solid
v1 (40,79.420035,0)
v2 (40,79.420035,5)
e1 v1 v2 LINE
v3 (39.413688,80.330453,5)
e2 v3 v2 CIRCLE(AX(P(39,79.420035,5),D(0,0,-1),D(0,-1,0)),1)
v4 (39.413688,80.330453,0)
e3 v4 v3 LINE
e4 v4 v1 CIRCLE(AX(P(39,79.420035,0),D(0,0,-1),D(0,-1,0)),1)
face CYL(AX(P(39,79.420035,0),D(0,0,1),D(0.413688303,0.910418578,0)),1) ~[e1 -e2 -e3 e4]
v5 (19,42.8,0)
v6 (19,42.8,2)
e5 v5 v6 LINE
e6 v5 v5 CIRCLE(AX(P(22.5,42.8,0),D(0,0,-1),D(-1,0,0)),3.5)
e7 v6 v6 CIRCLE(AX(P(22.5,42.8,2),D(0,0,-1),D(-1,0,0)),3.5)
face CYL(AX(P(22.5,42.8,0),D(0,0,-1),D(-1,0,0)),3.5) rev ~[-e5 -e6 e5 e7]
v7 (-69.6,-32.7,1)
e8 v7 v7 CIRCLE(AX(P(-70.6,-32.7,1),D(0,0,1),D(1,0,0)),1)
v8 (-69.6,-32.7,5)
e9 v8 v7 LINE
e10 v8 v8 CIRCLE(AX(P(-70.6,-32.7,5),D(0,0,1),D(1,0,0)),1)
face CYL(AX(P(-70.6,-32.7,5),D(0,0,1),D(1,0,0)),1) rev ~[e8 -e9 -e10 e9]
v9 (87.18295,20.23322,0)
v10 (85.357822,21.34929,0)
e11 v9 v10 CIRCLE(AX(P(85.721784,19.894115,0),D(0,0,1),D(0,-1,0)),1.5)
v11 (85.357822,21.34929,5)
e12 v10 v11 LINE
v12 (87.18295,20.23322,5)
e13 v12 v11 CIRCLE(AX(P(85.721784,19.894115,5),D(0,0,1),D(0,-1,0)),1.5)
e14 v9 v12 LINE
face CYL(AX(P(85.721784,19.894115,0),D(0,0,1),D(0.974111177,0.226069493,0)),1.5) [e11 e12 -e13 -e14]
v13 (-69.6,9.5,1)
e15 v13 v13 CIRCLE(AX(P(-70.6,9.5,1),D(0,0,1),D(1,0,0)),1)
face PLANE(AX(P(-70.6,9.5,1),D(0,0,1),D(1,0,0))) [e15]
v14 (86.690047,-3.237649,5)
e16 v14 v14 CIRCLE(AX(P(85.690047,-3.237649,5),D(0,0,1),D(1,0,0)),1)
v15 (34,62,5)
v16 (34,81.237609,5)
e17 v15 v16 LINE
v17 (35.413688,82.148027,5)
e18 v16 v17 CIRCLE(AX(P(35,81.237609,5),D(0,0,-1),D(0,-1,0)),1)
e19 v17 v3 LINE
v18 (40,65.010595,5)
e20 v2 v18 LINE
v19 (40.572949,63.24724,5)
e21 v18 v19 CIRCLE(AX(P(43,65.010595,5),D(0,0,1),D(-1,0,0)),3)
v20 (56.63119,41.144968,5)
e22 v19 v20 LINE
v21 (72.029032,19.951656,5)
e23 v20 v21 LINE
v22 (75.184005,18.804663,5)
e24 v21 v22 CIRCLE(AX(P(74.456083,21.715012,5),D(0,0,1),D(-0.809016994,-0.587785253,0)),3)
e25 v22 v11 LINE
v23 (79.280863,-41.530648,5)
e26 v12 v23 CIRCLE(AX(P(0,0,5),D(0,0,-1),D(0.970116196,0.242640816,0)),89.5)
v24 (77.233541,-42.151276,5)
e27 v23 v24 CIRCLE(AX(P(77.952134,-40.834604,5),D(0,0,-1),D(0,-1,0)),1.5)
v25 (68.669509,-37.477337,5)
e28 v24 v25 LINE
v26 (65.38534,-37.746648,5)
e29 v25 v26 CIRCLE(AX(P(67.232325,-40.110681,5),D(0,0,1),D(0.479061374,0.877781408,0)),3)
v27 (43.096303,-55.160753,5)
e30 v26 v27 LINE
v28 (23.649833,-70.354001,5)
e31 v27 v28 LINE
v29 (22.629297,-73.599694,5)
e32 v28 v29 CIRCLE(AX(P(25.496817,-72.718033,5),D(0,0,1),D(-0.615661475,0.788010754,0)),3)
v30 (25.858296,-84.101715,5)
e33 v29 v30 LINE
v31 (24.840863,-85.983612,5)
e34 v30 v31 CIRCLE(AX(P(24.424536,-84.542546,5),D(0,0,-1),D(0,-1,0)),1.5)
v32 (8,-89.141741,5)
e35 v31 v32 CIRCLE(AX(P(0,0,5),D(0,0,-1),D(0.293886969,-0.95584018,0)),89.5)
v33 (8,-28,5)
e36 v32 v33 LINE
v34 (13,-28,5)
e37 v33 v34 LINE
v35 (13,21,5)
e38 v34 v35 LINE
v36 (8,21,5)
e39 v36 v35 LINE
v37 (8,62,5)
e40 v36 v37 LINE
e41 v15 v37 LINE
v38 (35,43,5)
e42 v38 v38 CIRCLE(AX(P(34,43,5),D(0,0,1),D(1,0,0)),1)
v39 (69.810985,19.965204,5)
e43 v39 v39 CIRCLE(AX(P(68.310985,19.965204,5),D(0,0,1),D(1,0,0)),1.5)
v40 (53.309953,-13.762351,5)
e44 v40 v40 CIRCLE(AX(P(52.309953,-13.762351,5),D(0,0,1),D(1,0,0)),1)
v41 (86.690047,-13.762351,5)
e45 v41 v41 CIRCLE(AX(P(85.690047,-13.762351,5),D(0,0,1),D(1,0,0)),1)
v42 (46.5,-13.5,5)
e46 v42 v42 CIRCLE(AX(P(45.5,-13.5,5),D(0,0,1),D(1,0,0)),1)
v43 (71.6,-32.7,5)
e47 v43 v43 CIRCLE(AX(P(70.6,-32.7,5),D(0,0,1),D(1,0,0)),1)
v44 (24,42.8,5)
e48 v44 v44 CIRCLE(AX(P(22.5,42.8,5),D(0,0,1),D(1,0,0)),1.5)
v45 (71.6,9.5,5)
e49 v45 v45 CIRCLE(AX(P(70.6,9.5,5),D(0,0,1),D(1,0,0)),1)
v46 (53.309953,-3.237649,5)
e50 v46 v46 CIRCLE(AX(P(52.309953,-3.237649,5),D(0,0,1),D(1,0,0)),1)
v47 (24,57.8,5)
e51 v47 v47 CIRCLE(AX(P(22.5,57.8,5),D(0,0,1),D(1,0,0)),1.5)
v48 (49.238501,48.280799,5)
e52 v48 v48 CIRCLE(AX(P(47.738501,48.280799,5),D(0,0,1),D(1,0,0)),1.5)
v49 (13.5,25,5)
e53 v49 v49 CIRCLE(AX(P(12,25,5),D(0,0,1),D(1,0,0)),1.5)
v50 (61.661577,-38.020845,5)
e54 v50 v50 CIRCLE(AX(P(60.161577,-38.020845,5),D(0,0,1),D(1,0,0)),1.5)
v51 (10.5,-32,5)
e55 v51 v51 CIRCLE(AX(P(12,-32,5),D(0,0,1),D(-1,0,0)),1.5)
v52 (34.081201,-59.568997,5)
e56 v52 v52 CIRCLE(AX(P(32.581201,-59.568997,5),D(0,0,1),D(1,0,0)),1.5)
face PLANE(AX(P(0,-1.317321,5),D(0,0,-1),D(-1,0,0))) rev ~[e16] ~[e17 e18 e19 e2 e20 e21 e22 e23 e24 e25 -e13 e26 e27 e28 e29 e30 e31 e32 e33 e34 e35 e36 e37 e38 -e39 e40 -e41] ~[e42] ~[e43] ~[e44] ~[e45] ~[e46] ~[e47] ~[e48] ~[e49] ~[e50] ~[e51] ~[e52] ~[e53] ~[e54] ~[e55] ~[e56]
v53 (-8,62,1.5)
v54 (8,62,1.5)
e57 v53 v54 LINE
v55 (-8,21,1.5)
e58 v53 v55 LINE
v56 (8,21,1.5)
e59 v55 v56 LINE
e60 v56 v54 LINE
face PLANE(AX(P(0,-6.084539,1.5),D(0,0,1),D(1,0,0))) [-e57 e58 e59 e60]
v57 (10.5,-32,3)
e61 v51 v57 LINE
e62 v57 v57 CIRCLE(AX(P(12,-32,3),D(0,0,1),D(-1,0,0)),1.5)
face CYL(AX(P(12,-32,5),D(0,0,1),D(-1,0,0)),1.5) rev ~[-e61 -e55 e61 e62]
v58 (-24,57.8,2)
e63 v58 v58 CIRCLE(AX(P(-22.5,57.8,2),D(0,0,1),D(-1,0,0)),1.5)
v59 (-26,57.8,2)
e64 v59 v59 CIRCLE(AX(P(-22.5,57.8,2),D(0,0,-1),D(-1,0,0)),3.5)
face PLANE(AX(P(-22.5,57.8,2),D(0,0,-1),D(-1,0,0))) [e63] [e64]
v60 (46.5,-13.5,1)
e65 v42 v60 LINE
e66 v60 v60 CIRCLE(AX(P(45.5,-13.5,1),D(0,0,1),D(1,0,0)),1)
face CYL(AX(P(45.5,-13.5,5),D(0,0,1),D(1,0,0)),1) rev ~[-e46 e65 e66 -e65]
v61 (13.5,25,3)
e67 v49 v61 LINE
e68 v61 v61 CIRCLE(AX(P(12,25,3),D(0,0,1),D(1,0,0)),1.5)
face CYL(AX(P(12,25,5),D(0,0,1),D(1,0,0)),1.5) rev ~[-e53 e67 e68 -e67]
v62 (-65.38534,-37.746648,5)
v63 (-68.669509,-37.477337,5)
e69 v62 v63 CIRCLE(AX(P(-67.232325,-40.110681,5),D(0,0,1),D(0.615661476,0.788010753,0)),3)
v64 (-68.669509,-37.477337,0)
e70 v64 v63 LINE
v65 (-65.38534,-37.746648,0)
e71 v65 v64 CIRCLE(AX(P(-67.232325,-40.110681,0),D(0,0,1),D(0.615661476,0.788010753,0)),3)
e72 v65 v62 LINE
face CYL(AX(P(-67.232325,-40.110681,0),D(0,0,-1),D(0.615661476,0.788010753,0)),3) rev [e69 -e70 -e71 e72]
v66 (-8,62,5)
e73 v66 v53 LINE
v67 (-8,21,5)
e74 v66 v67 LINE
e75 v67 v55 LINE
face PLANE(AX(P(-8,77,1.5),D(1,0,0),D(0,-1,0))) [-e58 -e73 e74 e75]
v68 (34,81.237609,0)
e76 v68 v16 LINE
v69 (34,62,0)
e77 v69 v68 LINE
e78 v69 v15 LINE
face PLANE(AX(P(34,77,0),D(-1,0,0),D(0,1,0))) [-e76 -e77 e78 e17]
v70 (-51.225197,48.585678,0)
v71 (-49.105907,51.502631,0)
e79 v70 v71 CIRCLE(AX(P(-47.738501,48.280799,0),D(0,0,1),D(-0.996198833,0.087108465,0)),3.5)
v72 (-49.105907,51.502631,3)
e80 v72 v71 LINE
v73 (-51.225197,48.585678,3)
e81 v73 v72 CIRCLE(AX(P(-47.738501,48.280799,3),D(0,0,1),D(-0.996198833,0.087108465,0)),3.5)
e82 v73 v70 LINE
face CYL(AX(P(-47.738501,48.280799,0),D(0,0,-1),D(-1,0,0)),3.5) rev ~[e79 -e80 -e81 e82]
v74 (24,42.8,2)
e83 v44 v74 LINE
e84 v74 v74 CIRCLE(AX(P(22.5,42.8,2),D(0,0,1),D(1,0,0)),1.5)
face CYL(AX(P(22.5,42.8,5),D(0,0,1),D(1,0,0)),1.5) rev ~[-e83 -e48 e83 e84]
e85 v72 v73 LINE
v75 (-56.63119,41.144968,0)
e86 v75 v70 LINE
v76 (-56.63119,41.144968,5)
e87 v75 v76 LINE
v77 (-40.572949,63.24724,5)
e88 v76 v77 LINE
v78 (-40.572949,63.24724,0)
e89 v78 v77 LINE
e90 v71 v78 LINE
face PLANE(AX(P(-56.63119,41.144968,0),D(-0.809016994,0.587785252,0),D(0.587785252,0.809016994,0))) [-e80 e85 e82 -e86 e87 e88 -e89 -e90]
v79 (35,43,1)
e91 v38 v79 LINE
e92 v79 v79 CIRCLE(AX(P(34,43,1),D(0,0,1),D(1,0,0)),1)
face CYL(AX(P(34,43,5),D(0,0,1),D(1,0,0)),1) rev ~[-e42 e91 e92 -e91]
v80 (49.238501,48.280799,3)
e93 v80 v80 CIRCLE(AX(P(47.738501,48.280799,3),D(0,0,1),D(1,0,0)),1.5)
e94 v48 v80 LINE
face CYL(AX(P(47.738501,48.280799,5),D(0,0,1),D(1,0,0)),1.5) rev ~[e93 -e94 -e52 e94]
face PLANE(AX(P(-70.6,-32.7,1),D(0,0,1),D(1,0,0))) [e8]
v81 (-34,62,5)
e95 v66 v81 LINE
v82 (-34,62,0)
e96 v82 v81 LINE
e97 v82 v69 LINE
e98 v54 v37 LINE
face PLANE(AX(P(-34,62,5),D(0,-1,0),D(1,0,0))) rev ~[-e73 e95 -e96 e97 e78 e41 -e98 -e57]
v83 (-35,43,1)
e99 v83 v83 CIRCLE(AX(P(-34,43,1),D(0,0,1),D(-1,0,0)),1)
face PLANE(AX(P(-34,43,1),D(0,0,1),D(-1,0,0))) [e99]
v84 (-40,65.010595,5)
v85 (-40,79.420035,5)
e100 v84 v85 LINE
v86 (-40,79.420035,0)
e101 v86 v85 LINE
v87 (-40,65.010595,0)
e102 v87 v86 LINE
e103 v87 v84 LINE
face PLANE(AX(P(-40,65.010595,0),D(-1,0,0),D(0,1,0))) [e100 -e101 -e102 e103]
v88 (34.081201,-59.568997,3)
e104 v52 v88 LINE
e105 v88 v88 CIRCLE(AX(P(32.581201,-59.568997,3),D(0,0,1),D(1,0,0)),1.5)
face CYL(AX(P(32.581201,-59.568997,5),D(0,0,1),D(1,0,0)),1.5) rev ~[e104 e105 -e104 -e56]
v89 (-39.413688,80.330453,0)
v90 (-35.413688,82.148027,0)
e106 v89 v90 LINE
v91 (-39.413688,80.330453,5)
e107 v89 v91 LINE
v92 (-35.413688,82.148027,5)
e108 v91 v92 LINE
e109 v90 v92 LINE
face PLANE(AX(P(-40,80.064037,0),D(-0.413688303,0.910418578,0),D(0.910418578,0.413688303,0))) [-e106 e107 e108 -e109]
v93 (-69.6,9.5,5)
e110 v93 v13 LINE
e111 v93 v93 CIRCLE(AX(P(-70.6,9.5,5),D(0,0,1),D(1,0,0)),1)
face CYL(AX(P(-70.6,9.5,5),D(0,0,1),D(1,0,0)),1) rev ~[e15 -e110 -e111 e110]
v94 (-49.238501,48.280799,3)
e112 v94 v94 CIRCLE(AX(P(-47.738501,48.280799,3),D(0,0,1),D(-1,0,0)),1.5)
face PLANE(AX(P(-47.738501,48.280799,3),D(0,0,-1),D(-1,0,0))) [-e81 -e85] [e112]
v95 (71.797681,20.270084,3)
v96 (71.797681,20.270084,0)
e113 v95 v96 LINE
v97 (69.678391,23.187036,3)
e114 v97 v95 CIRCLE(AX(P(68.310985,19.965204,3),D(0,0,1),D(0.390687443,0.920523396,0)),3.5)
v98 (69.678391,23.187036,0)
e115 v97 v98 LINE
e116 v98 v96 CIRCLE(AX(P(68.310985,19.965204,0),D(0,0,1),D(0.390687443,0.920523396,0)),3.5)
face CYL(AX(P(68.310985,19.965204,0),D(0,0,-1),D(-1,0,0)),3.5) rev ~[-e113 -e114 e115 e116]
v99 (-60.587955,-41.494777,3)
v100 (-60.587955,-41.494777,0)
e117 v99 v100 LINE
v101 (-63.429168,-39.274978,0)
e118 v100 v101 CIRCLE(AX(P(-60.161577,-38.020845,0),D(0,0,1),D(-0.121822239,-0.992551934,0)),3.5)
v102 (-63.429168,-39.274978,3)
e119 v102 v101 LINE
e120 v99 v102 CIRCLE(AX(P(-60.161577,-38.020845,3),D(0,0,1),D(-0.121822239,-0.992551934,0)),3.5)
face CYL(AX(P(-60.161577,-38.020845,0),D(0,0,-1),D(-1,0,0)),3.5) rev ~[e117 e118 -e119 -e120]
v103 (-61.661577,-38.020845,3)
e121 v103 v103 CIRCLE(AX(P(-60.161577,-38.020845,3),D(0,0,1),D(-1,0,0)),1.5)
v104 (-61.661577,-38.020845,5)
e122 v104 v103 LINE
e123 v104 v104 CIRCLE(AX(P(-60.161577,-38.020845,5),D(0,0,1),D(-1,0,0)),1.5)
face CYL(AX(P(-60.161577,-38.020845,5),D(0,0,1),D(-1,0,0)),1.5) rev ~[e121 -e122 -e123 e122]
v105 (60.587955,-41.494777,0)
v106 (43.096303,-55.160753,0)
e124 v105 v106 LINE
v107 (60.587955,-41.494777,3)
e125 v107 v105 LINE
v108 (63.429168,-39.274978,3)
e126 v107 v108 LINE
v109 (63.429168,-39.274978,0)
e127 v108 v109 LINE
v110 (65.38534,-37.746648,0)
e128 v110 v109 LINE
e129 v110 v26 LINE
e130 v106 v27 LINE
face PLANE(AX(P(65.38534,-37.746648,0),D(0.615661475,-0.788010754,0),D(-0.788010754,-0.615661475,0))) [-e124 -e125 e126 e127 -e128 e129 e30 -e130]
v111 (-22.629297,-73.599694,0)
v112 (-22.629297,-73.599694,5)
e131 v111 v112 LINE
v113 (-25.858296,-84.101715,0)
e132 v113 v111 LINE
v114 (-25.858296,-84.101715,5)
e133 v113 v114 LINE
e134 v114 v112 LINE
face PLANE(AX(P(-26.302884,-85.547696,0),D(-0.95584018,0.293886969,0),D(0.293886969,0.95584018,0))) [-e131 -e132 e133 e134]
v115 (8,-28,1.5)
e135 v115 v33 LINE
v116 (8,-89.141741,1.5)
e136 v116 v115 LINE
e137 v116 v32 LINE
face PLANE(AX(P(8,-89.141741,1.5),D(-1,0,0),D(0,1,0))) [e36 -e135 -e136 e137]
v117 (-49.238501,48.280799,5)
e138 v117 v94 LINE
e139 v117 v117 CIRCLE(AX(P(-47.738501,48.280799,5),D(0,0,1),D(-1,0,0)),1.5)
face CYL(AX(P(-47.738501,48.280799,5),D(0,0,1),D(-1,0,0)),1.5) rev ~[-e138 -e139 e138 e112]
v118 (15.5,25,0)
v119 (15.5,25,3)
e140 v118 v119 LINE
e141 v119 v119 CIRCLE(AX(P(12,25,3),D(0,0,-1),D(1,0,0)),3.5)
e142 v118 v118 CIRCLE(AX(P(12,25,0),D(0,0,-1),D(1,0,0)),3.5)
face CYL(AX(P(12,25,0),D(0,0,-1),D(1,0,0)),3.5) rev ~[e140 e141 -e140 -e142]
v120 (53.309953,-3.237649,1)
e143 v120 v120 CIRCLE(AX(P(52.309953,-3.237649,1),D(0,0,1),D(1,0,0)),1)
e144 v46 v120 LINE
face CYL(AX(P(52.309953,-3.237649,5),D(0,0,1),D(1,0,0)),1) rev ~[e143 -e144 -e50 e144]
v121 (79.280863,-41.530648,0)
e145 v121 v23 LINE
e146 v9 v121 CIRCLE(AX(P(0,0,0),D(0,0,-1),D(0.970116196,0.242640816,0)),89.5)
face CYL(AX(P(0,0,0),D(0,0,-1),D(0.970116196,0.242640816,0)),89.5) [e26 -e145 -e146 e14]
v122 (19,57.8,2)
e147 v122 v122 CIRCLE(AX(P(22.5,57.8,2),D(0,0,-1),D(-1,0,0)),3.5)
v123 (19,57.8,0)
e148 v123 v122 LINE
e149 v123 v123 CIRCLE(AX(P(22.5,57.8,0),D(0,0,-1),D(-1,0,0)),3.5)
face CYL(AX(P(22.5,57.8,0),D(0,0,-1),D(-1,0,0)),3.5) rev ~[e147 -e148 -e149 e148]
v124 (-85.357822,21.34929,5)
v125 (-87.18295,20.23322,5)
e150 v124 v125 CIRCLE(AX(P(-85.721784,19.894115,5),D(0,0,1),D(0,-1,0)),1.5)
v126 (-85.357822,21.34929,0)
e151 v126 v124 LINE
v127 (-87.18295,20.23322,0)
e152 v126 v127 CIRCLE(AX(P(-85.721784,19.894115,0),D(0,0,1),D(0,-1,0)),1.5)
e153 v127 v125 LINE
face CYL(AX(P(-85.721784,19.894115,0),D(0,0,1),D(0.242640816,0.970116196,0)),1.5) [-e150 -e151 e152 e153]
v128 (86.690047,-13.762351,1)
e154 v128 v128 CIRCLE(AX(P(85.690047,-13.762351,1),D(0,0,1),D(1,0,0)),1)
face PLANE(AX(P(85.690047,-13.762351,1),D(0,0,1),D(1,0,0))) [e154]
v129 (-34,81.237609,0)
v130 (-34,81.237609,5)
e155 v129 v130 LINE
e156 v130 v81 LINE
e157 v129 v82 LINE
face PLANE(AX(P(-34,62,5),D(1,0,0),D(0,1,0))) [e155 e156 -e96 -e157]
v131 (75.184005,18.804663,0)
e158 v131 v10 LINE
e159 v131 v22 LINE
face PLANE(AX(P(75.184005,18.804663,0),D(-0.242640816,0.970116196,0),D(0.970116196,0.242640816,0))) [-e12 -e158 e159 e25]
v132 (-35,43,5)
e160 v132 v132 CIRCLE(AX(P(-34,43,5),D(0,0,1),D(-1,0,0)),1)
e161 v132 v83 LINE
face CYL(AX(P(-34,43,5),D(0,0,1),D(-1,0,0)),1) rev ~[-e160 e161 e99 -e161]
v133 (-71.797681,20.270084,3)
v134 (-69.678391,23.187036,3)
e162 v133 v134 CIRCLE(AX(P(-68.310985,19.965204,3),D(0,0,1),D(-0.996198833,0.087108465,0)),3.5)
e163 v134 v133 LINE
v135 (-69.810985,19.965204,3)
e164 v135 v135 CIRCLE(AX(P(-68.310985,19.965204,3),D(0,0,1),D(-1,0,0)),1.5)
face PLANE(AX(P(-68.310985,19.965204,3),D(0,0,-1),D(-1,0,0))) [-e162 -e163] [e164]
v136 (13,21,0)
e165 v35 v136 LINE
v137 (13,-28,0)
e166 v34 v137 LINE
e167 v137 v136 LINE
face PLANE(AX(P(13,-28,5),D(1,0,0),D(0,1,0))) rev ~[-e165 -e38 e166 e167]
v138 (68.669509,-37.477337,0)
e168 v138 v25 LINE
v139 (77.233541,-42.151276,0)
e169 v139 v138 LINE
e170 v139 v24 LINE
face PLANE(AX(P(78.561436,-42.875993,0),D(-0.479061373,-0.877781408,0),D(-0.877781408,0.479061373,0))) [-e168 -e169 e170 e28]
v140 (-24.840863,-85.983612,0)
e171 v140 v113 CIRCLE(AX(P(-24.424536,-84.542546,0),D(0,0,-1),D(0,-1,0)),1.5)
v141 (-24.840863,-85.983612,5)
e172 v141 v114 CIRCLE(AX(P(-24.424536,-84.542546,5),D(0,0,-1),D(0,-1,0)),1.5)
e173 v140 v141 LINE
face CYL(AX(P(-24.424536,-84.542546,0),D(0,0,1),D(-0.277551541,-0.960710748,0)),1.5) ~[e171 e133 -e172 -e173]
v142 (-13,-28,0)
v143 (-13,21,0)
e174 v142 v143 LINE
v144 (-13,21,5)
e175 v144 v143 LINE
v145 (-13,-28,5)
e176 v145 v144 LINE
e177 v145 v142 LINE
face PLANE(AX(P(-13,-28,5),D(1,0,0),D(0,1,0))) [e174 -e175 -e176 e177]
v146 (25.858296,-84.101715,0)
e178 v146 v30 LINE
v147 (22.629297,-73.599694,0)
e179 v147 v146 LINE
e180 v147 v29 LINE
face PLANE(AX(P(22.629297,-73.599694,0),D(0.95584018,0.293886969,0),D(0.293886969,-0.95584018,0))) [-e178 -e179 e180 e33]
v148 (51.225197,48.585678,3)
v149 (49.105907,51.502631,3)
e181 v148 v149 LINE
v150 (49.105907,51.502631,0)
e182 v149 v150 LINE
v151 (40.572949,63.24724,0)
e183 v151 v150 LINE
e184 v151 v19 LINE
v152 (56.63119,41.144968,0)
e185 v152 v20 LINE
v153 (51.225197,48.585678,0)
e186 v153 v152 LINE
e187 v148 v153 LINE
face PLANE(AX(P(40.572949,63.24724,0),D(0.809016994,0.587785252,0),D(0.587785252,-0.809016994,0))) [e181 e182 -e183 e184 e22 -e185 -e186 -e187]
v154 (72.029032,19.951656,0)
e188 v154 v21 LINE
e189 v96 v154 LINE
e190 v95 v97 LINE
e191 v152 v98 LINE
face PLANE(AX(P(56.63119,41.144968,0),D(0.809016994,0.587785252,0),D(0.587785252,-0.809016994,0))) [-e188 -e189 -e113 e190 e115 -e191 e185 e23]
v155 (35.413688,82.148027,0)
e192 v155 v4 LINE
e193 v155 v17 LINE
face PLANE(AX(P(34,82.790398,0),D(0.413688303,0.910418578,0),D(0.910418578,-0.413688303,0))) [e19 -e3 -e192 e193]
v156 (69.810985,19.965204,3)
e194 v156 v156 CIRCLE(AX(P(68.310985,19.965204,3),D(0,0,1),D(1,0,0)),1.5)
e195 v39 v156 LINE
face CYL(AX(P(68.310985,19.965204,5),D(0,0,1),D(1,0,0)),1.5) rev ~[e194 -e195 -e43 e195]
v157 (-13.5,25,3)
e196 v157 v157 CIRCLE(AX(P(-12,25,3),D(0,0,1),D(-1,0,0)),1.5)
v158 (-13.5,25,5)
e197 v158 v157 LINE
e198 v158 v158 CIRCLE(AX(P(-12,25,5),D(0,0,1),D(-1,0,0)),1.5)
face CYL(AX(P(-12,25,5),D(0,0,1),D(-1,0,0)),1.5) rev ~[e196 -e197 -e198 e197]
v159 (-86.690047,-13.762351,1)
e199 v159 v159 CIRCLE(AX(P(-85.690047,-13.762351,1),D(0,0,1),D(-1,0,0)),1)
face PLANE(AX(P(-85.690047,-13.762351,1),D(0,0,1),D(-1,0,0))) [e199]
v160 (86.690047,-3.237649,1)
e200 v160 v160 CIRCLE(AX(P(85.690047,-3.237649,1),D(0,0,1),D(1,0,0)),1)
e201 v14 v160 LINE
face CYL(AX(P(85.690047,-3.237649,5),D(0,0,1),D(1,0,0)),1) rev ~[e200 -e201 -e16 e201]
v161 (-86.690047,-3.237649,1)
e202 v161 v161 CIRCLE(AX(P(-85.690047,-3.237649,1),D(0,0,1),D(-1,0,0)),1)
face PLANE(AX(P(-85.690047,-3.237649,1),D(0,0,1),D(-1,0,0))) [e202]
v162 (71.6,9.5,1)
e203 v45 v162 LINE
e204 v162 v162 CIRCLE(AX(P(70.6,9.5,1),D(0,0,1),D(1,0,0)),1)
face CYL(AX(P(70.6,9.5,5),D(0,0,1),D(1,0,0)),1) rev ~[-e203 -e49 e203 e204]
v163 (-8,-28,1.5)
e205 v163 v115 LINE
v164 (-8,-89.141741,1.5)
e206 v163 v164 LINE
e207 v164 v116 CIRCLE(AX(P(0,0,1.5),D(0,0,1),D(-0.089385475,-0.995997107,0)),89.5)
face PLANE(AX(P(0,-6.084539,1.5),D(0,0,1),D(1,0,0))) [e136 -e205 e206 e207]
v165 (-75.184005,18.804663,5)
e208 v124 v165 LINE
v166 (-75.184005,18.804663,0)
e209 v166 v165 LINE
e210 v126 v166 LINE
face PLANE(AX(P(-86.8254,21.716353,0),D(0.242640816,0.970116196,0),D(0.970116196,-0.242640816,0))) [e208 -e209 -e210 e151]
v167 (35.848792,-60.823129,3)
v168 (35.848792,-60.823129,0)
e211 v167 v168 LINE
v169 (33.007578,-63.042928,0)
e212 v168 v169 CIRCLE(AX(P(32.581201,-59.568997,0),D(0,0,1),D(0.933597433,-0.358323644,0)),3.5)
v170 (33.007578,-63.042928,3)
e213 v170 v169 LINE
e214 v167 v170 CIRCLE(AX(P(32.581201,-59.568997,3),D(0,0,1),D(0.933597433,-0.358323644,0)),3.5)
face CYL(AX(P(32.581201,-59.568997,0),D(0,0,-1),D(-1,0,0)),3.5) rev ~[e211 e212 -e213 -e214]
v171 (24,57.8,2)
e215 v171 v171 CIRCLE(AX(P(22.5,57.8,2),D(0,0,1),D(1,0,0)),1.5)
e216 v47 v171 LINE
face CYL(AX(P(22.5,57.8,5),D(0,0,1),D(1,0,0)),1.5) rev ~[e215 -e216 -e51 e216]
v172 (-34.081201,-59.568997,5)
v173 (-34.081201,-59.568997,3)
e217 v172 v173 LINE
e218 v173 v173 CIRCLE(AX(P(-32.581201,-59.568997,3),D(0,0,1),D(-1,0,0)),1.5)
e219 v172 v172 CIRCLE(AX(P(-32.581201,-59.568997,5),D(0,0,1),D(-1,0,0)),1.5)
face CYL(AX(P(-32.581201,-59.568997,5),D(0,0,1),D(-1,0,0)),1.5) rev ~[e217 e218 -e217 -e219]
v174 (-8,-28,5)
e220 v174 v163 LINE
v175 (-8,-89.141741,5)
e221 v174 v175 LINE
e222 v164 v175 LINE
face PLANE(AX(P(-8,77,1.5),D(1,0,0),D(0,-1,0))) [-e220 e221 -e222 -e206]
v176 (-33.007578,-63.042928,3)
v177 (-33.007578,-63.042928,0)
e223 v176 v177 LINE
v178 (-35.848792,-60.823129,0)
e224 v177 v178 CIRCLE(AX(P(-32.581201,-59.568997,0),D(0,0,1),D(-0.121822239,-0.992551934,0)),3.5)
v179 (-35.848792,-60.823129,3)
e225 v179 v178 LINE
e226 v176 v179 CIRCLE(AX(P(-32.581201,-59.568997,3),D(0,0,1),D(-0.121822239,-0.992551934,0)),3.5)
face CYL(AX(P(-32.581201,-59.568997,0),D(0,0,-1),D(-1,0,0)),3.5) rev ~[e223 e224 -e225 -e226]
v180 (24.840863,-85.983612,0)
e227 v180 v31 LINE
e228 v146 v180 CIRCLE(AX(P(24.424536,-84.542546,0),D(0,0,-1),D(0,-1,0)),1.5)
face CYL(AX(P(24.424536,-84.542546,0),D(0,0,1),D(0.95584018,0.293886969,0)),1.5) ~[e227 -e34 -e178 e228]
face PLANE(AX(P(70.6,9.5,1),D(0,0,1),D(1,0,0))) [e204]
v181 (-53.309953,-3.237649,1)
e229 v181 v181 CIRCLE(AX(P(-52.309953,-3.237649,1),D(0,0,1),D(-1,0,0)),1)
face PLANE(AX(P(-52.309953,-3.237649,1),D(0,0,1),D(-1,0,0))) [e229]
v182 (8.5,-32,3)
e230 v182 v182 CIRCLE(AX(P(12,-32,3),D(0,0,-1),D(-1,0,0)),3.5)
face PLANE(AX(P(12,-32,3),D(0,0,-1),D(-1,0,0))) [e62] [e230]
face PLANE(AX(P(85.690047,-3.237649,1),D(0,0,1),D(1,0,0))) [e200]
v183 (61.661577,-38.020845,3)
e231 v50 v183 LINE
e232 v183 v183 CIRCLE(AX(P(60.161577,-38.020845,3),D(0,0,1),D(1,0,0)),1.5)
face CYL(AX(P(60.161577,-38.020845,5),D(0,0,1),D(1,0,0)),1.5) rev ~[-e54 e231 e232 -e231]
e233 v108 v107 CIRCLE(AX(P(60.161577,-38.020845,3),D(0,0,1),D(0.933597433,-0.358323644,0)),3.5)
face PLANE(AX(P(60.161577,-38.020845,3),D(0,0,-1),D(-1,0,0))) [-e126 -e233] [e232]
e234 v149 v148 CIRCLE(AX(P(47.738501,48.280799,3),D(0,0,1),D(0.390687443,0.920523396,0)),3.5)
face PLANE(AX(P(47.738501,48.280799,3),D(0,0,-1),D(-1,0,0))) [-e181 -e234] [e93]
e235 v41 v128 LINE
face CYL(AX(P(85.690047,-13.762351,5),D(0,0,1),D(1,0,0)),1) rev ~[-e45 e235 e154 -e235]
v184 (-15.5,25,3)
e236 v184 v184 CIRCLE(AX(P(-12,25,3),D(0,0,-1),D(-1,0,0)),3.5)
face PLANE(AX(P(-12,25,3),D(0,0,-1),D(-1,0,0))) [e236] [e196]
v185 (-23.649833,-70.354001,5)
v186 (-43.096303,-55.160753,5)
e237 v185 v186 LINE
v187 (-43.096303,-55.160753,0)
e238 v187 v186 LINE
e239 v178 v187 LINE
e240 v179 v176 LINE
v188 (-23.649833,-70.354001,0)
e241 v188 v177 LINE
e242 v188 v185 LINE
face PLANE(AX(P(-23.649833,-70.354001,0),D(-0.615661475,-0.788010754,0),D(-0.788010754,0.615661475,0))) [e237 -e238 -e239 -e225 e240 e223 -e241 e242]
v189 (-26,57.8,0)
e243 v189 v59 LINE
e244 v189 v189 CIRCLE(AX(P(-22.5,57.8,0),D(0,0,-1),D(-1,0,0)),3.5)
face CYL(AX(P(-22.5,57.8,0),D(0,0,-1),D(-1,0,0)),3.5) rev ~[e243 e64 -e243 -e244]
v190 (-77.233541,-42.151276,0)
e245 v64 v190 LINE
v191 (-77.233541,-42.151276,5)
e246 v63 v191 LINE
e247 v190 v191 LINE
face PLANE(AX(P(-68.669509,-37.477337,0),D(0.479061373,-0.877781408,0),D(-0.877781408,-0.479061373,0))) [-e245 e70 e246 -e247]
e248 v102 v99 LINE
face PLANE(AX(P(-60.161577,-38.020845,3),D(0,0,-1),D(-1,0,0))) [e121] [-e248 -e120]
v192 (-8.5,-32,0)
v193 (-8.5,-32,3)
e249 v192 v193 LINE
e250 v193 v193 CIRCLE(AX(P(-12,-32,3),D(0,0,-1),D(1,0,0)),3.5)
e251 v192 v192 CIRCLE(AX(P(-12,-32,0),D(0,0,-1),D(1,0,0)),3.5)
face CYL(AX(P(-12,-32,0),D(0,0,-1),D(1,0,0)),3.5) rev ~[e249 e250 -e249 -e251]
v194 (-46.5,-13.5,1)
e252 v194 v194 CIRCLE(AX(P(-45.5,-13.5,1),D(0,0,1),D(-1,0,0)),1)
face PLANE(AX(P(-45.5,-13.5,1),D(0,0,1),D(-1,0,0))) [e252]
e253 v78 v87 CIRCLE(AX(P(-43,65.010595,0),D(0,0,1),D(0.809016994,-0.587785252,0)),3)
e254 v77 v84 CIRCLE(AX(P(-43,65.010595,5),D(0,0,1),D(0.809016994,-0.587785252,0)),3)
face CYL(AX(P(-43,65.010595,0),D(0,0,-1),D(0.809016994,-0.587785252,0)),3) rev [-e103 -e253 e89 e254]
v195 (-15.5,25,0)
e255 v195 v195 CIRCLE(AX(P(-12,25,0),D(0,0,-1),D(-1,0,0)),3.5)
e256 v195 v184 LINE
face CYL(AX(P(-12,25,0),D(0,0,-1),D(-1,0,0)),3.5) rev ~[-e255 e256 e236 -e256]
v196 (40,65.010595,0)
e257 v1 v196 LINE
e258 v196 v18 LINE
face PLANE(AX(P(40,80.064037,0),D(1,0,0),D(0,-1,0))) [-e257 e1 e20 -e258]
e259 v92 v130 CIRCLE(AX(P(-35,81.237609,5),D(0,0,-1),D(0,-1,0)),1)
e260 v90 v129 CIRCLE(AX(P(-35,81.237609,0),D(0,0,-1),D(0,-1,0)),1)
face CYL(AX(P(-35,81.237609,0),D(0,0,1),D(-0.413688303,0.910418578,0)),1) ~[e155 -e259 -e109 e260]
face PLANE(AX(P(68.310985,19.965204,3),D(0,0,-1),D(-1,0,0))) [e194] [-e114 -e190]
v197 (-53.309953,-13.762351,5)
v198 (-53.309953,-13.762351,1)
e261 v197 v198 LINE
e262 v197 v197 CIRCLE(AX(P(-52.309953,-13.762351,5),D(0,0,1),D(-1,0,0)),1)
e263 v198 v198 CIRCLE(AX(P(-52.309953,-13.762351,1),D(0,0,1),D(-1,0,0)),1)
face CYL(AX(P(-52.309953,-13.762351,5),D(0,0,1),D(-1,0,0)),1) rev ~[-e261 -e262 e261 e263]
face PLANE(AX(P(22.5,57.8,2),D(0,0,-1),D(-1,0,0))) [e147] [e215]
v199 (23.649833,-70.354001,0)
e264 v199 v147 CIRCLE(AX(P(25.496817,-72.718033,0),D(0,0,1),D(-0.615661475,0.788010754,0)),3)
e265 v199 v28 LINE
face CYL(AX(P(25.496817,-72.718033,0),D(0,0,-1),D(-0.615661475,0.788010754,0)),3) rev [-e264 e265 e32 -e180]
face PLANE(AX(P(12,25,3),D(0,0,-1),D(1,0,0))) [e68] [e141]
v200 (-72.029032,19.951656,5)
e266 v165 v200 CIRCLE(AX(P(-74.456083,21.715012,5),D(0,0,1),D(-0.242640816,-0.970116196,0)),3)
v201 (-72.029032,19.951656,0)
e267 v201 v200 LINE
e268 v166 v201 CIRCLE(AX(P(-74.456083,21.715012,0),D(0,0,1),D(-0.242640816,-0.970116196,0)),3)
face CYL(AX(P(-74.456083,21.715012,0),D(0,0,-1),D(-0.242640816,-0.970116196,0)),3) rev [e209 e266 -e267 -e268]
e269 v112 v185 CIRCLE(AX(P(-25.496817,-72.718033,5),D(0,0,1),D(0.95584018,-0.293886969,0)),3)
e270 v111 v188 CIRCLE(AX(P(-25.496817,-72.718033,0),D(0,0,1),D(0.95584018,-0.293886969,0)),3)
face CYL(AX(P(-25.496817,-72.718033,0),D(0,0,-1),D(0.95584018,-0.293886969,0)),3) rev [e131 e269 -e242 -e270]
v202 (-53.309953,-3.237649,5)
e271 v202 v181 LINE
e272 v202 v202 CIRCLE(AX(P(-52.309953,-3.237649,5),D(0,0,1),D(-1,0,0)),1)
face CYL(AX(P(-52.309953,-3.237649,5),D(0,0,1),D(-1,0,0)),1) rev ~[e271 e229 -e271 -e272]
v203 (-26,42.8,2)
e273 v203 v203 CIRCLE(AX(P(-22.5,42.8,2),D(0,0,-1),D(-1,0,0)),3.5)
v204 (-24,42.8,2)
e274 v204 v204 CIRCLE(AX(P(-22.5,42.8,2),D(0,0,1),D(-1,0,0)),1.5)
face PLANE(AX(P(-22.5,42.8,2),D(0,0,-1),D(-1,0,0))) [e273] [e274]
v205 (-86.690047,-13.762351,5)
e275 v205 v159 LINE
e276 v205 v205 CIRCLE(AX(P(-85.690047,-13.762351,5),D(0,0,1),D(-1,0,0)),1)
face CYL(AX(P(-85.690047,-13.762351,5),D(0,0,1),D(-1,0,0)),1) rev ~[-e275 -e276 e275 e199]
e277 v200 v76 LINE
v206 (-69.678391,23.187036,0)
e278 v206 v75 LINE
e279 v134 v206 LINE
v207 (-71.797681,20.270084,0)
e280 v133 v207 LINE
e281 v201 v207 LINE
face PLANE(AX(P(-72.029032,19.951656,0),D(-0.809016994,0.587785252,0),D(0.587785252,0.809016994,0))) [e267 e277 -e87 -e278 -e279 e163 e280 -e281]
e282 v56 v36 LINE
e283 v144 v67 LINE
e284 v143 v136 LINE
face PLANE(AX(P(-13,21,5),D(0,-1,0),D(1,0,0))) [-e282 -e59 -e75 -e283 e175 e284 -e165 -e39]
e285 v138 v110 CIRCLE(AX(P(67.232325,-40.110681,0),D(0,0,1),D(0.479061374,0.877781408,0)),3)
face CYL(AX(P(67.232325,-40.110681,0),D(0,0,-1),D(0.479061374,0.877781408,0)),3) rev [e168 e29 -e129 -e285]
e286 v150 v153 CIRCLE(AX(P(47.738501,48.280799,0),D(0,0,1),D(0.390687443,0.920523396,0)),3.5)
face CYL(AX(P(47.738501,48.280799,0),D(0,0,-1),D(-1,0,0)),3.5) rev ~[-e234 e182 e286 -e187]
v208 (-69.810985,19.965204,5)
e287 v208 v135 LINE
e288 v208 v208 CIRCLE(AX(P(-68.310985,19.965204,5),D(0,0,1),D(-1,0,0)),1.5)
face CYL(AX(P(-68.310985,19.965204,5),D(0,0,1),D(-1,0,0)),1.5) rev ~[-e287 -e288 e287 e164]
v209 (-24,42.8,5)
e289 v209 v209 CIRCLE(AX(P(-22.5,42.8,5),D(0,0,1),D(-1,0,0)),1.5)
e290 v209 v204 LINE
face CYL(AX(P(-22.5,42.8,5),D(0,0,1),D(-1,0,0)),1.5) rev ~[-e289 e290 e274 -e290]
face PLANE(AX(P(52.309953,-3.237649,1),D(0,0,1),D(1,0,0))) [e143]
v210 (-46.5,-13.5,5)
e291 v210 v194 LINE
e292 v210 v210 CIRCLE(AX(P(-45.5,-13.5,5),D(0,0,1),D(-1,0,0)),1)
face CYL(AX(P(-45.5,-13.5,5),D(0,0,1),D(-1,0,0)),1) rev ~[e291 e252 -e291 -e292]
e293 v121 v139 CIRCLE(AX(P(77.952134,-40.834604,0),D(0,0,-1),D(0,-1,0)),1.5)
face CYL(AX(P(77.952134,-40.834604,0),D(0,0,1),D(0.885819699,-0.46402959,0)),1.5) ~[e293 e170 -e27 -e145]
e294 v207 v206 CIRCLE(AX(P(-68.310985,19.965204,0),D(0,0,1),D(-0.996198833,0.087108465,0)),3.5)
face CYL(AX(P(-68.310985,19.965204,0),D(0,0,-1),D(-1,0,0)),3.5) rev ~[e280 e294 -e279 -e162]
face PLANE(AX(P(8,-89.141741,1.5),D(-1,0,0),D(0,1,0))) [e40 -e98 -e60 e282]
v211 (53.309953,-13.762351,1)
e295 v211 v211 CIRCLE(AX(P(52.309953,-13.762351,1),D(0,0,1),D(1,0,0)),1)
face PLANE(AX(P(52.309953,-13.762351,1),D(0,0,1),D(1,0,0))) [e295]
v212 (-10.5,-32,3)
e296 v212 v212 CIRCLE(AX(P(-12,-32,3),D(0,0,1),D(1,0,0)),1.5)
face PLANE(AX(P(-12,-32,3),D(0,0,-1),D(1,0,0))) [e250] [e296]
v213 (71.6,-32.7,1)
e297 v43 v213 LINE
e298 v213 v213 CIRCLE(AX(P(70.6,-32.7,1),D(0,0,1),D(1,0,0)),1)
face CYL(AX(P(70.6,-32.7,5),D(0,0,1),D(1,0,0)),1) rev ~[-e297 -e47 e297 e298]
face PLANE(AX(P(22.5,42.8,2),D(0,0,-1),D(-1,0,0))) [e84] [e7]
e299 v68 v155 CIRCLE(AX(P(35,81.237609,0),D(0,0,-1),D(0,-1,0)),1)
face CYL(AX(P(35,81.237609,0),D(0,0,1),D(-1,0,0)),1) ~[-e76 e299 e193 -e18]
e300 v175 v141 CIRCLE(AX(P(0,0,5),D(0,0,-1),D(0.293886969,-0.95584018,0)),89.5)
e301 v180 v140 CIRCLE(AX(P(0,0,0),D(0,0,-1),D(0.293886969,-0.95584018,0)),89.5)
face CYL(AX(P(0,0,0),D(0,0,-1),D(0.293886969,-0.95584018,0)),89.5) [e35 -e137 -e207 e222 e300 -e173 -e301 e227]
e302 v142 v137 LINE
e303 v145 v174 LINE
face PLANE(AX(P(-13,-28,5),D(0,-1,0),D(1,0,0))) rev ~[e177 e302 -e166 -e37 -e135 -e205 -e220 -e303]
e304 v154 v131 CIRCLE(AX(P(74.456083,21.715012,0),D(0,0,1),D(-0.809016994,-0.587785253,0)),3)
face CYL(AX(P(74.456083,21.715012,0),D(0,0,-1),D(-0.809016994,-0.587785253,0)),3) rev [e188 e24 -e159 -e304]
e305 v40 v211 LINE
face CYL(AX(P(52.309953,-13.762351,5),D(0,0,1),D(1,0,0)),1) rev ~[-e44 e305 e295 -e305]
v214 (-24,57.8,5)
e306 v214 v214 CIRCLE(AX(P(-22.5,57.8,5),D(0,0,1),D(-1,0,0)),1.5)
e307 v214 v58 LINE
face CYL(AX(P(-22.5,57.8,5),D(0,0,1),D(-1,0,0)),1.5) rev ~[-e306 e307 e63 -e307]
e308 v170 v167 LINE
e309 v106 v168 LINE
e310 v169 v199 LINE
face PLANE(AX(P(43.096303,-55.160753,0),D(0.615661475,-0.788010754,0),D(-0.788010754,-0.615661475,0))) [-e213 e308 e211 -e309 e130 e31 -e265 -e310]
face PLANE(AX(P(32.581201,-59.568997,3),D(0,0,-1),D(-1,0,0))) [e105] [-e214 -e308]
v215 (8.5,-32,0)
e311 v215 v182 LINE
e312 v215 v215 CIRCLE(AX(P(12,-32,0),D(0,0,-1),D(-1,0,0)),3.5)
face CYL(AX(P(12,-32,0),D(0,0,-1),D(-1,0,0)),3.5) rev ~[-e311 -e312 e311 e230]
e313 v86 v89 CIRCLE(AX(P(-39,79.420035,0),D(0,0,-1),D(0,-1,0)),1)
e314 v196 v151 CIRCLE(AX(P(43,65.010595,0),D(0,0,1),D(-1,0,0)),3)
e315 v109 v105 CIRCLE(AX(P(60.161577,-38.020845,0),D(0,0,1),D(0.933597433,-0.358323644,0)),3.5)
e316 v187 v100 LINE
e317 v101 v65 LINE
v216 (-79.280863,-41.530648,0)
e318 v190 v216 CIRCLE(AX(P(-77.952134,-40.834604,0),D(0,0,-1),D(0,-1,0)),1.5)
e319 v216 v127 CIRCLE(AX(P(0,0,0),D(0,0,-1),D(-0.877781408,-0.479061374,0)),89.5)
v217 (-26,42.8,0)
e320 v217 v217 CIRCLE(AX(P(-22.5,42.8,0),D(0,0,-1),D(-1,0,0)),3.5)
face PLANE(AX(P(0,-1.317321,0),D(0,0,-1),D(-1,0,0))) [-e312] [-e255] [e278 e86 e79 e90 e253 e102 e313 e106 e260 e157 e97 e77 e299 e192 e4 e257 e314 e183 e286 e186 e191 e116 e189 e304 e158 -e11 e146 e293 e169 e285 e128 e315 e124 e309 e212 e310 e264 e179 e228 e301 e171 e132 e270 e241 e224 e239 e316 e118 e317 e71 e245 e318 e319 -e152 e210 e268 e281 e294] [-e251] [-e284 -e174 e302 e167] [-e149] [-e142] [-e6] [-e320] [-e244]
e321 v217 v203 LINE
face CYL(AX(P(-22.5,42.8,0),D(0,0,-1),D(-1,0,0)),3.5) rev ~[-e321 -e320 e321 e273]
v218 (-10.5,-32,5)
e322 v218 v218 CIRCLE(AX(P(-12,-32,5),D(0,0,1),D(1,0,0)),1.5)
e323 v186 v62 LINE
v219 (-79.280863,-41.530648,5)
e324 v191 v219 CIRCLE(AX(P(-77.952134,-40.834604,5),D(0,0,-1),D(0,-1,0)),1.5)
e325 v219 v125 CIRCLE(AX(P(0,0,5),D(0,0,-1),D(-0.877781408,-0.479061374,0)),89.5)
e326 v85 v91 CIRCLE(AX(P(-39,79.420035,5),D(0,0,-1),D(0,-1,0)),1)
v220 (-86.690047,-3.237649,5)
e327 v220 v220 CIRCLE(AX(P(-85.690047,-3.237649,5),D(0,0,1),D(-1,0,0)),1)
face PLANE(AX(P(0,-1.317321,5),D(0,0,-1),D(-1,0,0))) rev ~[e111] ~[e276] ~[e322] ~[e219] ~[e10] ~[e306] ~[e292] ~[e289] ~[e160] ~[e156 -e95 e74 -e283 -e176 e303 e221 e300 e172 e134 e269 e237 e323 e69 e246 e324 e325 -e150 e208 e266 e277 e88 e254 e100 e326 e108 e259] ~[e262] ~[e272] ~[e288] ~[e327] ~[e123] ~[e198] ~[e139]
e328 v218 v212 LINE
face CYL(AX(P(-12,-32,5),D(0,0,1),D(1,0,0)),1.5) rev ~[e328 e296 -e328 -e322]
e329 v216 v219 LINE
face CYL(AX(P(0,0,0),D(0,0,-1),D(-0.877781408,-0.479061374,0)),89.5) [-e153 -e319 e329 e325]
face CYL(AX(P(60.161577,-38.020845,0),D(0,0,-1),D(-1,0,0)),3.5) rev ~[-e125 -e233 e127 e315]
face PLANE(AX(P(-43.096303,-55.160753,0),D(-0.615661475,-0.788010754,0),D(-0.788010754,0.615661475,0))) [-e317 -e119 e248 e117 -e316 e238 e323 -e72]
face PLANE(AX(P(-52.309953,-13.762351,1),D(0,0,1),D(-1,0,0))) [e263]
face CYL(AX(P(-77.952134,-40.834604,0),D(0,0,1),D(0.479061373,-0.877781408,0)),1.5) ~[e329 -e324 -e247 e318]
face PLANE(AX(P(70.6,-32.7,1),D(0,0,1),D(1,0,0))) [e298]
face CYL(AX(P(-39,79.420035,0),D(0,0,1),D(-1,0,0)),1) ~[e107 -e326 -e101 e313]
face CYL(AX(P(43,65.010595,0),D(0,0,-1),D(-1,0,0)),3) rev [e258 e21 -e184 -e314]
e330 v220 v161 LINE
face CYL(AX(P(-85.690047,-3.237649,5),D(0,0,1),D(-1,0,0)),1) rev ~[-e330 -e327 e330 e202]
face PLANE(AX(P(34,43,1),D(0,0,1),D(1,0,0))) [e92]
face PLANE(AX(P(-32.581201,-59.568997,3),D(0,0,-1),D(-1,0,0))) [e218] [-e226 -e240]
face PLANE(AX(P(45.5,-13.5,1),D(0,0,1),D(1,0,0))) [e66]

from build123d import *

# Parameters (mm, degrees)
EXTRUDE_2156_DEPTH      = 5
FILLET_3_R              = 1.5
FILLET_4_R              = 1.5
FILLET_5_R              = 1.5
FILLET_6_R              = 1.5
FILLET_8_R              = 1.5
FILLET_9_R              = 1.5
FILLET_10_R             = 1
SKETCH_5_R              = 1.5
CUT_EXTRUDE_4477_DEPTH  = 2
SKETCH_12_R             = 3.5
CUT_EXTRUDE_5428_DEPTH  = 3
CUT_EXTRUDE_START       = -3.5
CUT_EXTRUDE_6211_DEPTH  = 3.5
SKETCH_8_W              = 26
SKETCH_8_H              = 49
CUT_EXTRUDE_6713_DEPTH  = 5
SKETCH_9_R              = 1.5
CUT_EXTRUDE_7322_DEPTH  = 2
SKETCH_10_R             = 3.5
CUT_EXTRUDE_8110_DEPTH  = 3
SKETCH_11_R             = 1.5
CUT_EXTRUDE_8691_DEPTH  = 5
SKETCH_14_W             = 68
SKETCH_14_H             = 4
CUT_EXTRUDE_8943_DEPTH  = 10
SKETCH_15_R             = 1
CUT_EXTRUDE_9740_DEPTH  = 4
SKETCH_16_R             = 1
CUT_EXTRUDE_10725_DEPTH = 4
SKETCH_17_R             = 1
CUT_EXTRUDE_11590_DEPTH = 4
SKETCH_18_R             = 3.5
CUT_EXTRUDE_12205_DEPTH = 2
SKETCH_19_W             = 68
SKETCH_19_H             = 11
CUT_EXTRUDE_3_DEPTH     = 5


with BuildPart() as part:
    # 草图1 → Extrude 2156 (new body)
    with BuildSketch(Plane.XY):
        with BuildLine():
            Line((40.572949017, 63.247239682), (56.631189606, 41.14496766))
            Line((56.631189606, 41.14496766), (72.029031786, 19.951656069))
            ThreePointArc((72.029031786, 19.951656069), (73.431066875, 18.895554003), (75.184005217, 18.804663237))
            Line((75.184005217, 18.804663237), (86.825399574, 21.716353029))
            ThreePointArc((86.825399574, 21.716353029), (88.776371499, -11.358074817), (78.561436026, -42.875992928))
            Line((78.561436026, -42.875992928), (68.669508852, -37.477336526))
            ThreePointArc((68.669508852, -37.477336526), (66.987138464, -37.120716922), (65.385340306, -37.74664849))
            Line((65.385340306, -37.74664849), (43.096303273, -55.160752752))
            Line((43.096303273, -55.160752752), (23.649832714, -70.354000687))
            ThreePointArc((23.649832714, -70.354000687), (22.63495231, -71.818183128), (22.6292966, -73.599693854))
            Line((22.6292966, -73.599693854), (26.30288371, -85.547696103))
            ThreePointArc((26.30288371, -85.547696103), (0, -89.5), (-26.30288371, -85.547696103))
            Line((-26.30288371, -85.547696103), (-22.6292966, -73.599693854))
            ThreePointArc((-22.6292966, -73.599693854), (-22.63495231, -71.818183128), (-23.649832714, -70.354000687))
            Line((-23.649832714, -70.354000687), (-43.096303273, -55.160752752))
            Line((-43.096303273, -55.160752752), (-65.385340306, -37.74664849))
            ThreePointArc((-65.385340306, -37.74664849), (-66.987138464, -37.120716922), (-68.669508852, -37.477336526))
            Line((-68.669508852, -37.477336526), (-78.561436026, -42.875992928))
            ThreePointArc((-78.561436026, -42.875992928), (-88.776371499, -11.358074817), (-86.825399574, 21.716353029))
            Line((-86.825399574, 21.716353029), (-75.184005217, 18.804663237))
            ThreePointArc((-75.184005217, 18.804663237), (-73.431066875, 18.895554003), (-72.029031786, 19.951656069))
            Line((-72.029031786, 19.951656069), (-56.631189606, 41.14496766))
            Line((-56.631189606, 41.14496766), (-40.572949017, 63.247239682))
            ThreePointArc((-40.572949017, 63.247239682), (-40.146830451, 64.083544456), (-40, 65.010595439))
            Line((-40, 65.010595439), (-40, 74))
            Line((-40, 74), (-40, 80.06403687))
            Line((-40, 80.06403687), (-34, 82.790397994))
            Line((-34, 82.790397994), (-34, 77))
            Line((-34, 77), (34, 77))
            Line((34, 77), (34, 82.790397994))
            Line((34, 82.790397994), (40, 80.06403687))
            Line((40, 80.06403687), (40, 74))
            Line((40, 74), (40, 65.010595439))
            ThreePointArc((40, 65.010595439), (40.146830451, 64.083544456), (40.572949017, 63.247239682))
        make_face()
    extrude(amount=EXTRUDE_2156_DEPTH)

    # 圆角3
    fillet_3_edges = [part.edges().sort_by_distance(p)[0] for p in [
        (78.561436026, -42.875992928, 2.5),
    ]]
    fillet(fillet_3_edges, radius=FILLET_3_R)

    # 圆角4
    fillet_4_edges = [part.edges().sort_by_distance(p)[0] for p in [
        (26.30288371, -85.547696103, 2.5),
    ]]
    fillet(fillet_4_edges, radius=FILLET_4_R)

    # 圆角5
    fillet_5_edges = [part.edges().sort_by_distance(p)[0] for p in [
        (-26.30288371, -85.547696103, 2.5),
    ]]
    fillet(fillet_5_edges, radius=FILLET_5_R)

    # 圆角6
    fillet_6_edges = [part.edges().sort_by_distance(p)[0] for p in [
        (-78.561436026, -42.875992928, 2.5),
    ]]
    fillet(fillet_6_edges, radius=FILLET_6_R)

    # 圆角8
    fillet_8_edges = [part.edges().sort_by_distance(p)[0] for p in [
        (86.825399574, 21.716353029, 2.5),
    ]]
    fillet(fillet_8_edges, radius=FILLET_8_R)

    # 圆角9
    fillet_9_edges = [part.edges().sort_by_distance(p)[0] for p in [
        (-86.825399574, 21.716353029, 2.5),
    ]]
    fillet(fillet_9_edges, radius=FILLET_9_R)

    # 圆角10
    fillet_10_edges = [part.edges().sort_by_distance(p)[0] for p in [
        (-40, 80.06403687, 2.5),
        (-34, 82.790397994, 2.5),
        (34, 82.790397994, 2.5),
        (40, 80.06403687, 2.5),
    ]]
    fillet(fillet_10_edges, radius=FILLET_10_R)

    # 草图5 → Cut-Extrude 4477 (cut)
    with BuildSketch(Plane.XY.offset(5)):
        with Locations((47.738500848, 48.280798842)):
            Circle(SKETCH_5_R)
        with Locations((68.310984678, 19.965204039)):
            Circle(SKETCH_5_R)
        with Locations(Location((-68.310984678, 19.965204039, 0), (0, 0, 180))):
            Circle(SKETCH_5_R)
        with Locations(Location((-47.738500848, 48.280798842, 0), (0, 0, 180))):
            Circle(SKETCH_5_R)
        with Locations((60.161576933, -38.020845084)):
            Circle(SKETCH_5_R)
        with Locations((32.581200557, -59.56899672)):
            Circle(SKETCH_5_R)
        with Locations(Location((-60.161576933, -38.020845084, 0), (0, 0, 180))):
            Circle(SKETCH_5_R)
        with Locations(Location((-32.581200557, -59.56899672, 0), (0, 0, 180))):
            Circle(SKETCH_5_R)
    extrude(amount=-CUT_EXTRUDE_4477_DEPTH, mode=Mode.SUBTRACT)

    # 草图12 → Cut-Extrude 5428 (cut)
    with BuildSketch(Plane(origin=(0, 0, 0), x_dir=(-1, 0, 0), z_dir=(0, 0, -1))):
        with Locations((47.738500848, 48.280798842)):
            Circle(SKETCH_12_R)
        with Locations((68.310984678, 19.965204039)):
            Circle(SKETCH_12_R)
        with Locations((-68.310984678, 19.965204039)):
            Circle(SKETCH_12_R)
        with Locations((-47.738500848, 48.280798842)):
            Circle(SKETCH_12_R)
        with Locations((32.581200557, -59.56899672)):
            Circle(SKETCH_12_R)
        with Locations((60.161576933, -38.020845084)):
            Circle(SKETCH_12_R)
        with Locations((13.527038551, -115.928745256)):
            Circle(SKETCH_12_R)
        with Locations((-60.161576933, -38.020845084)):
            Circle(SKETCH_12_R)
        with Locations((-32.581200557, -59.56899672)):
            Circle(SKETCH_12_R)
    extrude(amount=-CUT_EXTRUDE_5428_DEPTH, mode=Mode.SUBTRACT)

    # 草图7 → Cut-Extrude 6211 (cut)
    with BuildSketch(Plane.XY.offset(5).offset(CUT_EXTRUDE_START)):
        with BuildLine():
            Line((-8, 77), (-8, -89.141741064))
            ThreePointArc((-8, -89.141741064), (0, -89.5), (8, -89.141741064))
            Line((8, -89.141741064), (8, 77))
            Line((8, 77), (-8, 77))
        make_face()
    extrude(amount=CUT_EXTRUDE_6211_DEPTH, mode=Mode.SUBTRACT)

    # 草图8 → Cut-Extrude 6713 (cut)
    with BuildSketch(Plane.XY.offset(5)):
        with Locations((0, -3.5)):
            Rectangle(SKETCH_8_W, SKETCH_8_H)
    extrude(amount=-CUT_EXTRUDE_6713_DEPTH, mode=Mode.SUBTRACT)

    # 草图9 → Cut-Extrude 7322 (cut)
    with BuildSketch(Plane.XY.offset(5)):
        with Locations((12, 25)):
            Circle(SKETCH_9_R)
        with Locations(Location((-12, 25, 0), (0, 0, 180))):
            Circle(SKETCH_9_R)
        with Locations((-12, -32)):
            Circle(SKETCH_9_R)
        with Locations(Location((12, -32, 0), (0, 0, 180))):
            Circle(SKETCH_9_R)
    extrude(amount=-CUT_EXTRUDE_7322_DEPTH, mode=Mode.SUBTRACT)

    # 草图10 → Cut-Extrude 8110 (cut)
    with BuildSketch(Plane(origin=(0, 0, 0), x_dir=(-1, 0, 0), z_dir=(0, 0, -1))):
        with Locations((12, 25)):
            Circle(SKETCH_10_R)
        with Locations(Location((-12, 25, 0), (0, 0, 180))):
            Circle(SKETCH_10_R)
        with Locations(Location((12, -32, 0), (0, 0, 180))):
            Circle(SKETCH_10_R)
        with Locations((-12, -32)):
            Circle(SKETCH_10_R)
    extrude(amount=-CUT_EXTRUDE_8110_DEPTH, mode=Mode.SUBTRACT)

    # 草图11 → Cut-Extrude 8691 (cut)
    with BuildSketch(Plane.XY.offset(5)):
        with Locations((22.5, 57.8)):
            Circle(SKETCH_11_R)
        with Locations((22.5, 42.8)):
            Circle(SKETCH_11_R)
        with Locations(Location((-22.5, 42.8, 0), (0, 0, 180))):
            Circle(SKETCH_11_R)
        with Locations(Location((-22.5, 57.8, 0), (0, 0, 180))):
            Circle(SKETCH_11_R)
    extrude(amount=-CUT_EXTRUDE_8691_DEPTH, mode=Mode.SUBTRACT)

    # 草图14 → Cut-Extrude 8943 (cut)
    with BuildSketch(Plane(origin=(0, 0, 0), x_dir=(-1, 0, 0), z_dir=(0, 0, -1))):
        with Locations((0, 75)):
            Rectangle(SKETCH_14_W, SKETCH_14_H)
    extrude(amount=-CUT_EXTRUDE_8943_DEPTH, mode=Mode.SUBTRACT)

    # 草图15 → Cut-Extrude 9740 (cut)
    with BuildSketch(Plane.XY.offset(5)):
        with Locations(Location((-45.5, -13.5, 0), (0, 0, 180))):
            Circle(SKETCH_15_R)
        with Locations(Location((-34, 43, 0), (0, 0, 180))):
            Circle(SKETCH_15_R)
        with Locations((34, 43)):
            Circle(SKETCH_15_R)
        with Locations((45.5, -13.5)):
            Circle(SKETCH_15_R)
    extrude(amount=-CUT_EXTRUDE_9740_DEPTH, mode=Mode.SUBTRACT)

    # 草图16 → Cut-Extrude 10725 (cut)
    with BuildSketch(Plane.XY.offset(5)):
        with Locations((-70.6, -32.7)):
            Circle(SKETCH_16_R)
        with Locations((-70.6, 9.5)):
            Circle(SKETCH_16_R)
        with Locations((70.6, 9.5)):
            Circle(SKETCH_16_R)
        with Locations((70.6, -32.7)):
            Circle(SKETCH_16_R)
    extrude(amount=-CUT_EXTRUDE_10725_DEPTH, mode=Mode.SUBTRACT)

    # 草图17 → Cut-Extrude 11590 (cut)
    with BuildSketch(Plane.XY.offset(5)):
        with Locations((85.690046638, -3.237648509)):
            Circle(SKETCH_17_R)
        with Locations((85.690046638, -13.762351491)):
            Circle(SKETCH_17_R)
        with Locations((52.309953362, -13.762351491)):
            Circle(SKETCH_17_R)
        with Locations((52.309953362, -3.237648509)):
            Circle(SKETCH_17_R)
        with Locations(Location((-52.309953362, -13.762351491, 0), (0, 0, 180))):
            Circle(SKETCH_17_R)
        with Locations(Location((-85.690046638, -3.237648509, 0), (0, 0, 180))):
            Circle(SKETCH_17_R)
        with Locations(Location((-52.309953362, -3.237648509, 0), (0, 0, 180))):
            Circle(SKETCH_17_R)
        with Locations(Location((-85.690046638, -13.762351491, 0), (0, 0, 180))):
            Circle(SKETCH_17_R)
    extrude(amount=-CUT_EXTRUDE_11590_DEPTH, mode=Mode.SUBTRACT)

    # 草图18 → Cut-Extrude 12205 (cut)
    with BuildSketch(Plane(origin=(0, 0, 0), x_dir=(-1, 0, 0), z_dir=(0, 0, -1))):
        with Locations((-22.5, 57.8)):
            Circle(SKETCH_18_R)
        with Locations((-22.5, 42.8)):
            Circle(SKETCH_18_R)
        with Locations((22.5, 42.8)):
            Circle(SKETCH_18_R)
        with Locations((22.5, 57.8)):
            Circle(SKETCH_18_R)
    extrude(amount=-CUT_EXTRUDE_12205_DEPTH, mode=Mode.SUBTRACT)

    # 草图19 → 切除-拉伸3 (cut, symmetric)
    with BuildSketch(Plane.XY.offset(5)):
        with Locations((0, 67.5)):
            Rectangle(SKETCH_19_W, SKETCH_19_H)
    extrude(amount=CUT_EXTRUDE_3_DEPTH, both=True, mode=Mode.SUBTRACT)


solid = part.part
